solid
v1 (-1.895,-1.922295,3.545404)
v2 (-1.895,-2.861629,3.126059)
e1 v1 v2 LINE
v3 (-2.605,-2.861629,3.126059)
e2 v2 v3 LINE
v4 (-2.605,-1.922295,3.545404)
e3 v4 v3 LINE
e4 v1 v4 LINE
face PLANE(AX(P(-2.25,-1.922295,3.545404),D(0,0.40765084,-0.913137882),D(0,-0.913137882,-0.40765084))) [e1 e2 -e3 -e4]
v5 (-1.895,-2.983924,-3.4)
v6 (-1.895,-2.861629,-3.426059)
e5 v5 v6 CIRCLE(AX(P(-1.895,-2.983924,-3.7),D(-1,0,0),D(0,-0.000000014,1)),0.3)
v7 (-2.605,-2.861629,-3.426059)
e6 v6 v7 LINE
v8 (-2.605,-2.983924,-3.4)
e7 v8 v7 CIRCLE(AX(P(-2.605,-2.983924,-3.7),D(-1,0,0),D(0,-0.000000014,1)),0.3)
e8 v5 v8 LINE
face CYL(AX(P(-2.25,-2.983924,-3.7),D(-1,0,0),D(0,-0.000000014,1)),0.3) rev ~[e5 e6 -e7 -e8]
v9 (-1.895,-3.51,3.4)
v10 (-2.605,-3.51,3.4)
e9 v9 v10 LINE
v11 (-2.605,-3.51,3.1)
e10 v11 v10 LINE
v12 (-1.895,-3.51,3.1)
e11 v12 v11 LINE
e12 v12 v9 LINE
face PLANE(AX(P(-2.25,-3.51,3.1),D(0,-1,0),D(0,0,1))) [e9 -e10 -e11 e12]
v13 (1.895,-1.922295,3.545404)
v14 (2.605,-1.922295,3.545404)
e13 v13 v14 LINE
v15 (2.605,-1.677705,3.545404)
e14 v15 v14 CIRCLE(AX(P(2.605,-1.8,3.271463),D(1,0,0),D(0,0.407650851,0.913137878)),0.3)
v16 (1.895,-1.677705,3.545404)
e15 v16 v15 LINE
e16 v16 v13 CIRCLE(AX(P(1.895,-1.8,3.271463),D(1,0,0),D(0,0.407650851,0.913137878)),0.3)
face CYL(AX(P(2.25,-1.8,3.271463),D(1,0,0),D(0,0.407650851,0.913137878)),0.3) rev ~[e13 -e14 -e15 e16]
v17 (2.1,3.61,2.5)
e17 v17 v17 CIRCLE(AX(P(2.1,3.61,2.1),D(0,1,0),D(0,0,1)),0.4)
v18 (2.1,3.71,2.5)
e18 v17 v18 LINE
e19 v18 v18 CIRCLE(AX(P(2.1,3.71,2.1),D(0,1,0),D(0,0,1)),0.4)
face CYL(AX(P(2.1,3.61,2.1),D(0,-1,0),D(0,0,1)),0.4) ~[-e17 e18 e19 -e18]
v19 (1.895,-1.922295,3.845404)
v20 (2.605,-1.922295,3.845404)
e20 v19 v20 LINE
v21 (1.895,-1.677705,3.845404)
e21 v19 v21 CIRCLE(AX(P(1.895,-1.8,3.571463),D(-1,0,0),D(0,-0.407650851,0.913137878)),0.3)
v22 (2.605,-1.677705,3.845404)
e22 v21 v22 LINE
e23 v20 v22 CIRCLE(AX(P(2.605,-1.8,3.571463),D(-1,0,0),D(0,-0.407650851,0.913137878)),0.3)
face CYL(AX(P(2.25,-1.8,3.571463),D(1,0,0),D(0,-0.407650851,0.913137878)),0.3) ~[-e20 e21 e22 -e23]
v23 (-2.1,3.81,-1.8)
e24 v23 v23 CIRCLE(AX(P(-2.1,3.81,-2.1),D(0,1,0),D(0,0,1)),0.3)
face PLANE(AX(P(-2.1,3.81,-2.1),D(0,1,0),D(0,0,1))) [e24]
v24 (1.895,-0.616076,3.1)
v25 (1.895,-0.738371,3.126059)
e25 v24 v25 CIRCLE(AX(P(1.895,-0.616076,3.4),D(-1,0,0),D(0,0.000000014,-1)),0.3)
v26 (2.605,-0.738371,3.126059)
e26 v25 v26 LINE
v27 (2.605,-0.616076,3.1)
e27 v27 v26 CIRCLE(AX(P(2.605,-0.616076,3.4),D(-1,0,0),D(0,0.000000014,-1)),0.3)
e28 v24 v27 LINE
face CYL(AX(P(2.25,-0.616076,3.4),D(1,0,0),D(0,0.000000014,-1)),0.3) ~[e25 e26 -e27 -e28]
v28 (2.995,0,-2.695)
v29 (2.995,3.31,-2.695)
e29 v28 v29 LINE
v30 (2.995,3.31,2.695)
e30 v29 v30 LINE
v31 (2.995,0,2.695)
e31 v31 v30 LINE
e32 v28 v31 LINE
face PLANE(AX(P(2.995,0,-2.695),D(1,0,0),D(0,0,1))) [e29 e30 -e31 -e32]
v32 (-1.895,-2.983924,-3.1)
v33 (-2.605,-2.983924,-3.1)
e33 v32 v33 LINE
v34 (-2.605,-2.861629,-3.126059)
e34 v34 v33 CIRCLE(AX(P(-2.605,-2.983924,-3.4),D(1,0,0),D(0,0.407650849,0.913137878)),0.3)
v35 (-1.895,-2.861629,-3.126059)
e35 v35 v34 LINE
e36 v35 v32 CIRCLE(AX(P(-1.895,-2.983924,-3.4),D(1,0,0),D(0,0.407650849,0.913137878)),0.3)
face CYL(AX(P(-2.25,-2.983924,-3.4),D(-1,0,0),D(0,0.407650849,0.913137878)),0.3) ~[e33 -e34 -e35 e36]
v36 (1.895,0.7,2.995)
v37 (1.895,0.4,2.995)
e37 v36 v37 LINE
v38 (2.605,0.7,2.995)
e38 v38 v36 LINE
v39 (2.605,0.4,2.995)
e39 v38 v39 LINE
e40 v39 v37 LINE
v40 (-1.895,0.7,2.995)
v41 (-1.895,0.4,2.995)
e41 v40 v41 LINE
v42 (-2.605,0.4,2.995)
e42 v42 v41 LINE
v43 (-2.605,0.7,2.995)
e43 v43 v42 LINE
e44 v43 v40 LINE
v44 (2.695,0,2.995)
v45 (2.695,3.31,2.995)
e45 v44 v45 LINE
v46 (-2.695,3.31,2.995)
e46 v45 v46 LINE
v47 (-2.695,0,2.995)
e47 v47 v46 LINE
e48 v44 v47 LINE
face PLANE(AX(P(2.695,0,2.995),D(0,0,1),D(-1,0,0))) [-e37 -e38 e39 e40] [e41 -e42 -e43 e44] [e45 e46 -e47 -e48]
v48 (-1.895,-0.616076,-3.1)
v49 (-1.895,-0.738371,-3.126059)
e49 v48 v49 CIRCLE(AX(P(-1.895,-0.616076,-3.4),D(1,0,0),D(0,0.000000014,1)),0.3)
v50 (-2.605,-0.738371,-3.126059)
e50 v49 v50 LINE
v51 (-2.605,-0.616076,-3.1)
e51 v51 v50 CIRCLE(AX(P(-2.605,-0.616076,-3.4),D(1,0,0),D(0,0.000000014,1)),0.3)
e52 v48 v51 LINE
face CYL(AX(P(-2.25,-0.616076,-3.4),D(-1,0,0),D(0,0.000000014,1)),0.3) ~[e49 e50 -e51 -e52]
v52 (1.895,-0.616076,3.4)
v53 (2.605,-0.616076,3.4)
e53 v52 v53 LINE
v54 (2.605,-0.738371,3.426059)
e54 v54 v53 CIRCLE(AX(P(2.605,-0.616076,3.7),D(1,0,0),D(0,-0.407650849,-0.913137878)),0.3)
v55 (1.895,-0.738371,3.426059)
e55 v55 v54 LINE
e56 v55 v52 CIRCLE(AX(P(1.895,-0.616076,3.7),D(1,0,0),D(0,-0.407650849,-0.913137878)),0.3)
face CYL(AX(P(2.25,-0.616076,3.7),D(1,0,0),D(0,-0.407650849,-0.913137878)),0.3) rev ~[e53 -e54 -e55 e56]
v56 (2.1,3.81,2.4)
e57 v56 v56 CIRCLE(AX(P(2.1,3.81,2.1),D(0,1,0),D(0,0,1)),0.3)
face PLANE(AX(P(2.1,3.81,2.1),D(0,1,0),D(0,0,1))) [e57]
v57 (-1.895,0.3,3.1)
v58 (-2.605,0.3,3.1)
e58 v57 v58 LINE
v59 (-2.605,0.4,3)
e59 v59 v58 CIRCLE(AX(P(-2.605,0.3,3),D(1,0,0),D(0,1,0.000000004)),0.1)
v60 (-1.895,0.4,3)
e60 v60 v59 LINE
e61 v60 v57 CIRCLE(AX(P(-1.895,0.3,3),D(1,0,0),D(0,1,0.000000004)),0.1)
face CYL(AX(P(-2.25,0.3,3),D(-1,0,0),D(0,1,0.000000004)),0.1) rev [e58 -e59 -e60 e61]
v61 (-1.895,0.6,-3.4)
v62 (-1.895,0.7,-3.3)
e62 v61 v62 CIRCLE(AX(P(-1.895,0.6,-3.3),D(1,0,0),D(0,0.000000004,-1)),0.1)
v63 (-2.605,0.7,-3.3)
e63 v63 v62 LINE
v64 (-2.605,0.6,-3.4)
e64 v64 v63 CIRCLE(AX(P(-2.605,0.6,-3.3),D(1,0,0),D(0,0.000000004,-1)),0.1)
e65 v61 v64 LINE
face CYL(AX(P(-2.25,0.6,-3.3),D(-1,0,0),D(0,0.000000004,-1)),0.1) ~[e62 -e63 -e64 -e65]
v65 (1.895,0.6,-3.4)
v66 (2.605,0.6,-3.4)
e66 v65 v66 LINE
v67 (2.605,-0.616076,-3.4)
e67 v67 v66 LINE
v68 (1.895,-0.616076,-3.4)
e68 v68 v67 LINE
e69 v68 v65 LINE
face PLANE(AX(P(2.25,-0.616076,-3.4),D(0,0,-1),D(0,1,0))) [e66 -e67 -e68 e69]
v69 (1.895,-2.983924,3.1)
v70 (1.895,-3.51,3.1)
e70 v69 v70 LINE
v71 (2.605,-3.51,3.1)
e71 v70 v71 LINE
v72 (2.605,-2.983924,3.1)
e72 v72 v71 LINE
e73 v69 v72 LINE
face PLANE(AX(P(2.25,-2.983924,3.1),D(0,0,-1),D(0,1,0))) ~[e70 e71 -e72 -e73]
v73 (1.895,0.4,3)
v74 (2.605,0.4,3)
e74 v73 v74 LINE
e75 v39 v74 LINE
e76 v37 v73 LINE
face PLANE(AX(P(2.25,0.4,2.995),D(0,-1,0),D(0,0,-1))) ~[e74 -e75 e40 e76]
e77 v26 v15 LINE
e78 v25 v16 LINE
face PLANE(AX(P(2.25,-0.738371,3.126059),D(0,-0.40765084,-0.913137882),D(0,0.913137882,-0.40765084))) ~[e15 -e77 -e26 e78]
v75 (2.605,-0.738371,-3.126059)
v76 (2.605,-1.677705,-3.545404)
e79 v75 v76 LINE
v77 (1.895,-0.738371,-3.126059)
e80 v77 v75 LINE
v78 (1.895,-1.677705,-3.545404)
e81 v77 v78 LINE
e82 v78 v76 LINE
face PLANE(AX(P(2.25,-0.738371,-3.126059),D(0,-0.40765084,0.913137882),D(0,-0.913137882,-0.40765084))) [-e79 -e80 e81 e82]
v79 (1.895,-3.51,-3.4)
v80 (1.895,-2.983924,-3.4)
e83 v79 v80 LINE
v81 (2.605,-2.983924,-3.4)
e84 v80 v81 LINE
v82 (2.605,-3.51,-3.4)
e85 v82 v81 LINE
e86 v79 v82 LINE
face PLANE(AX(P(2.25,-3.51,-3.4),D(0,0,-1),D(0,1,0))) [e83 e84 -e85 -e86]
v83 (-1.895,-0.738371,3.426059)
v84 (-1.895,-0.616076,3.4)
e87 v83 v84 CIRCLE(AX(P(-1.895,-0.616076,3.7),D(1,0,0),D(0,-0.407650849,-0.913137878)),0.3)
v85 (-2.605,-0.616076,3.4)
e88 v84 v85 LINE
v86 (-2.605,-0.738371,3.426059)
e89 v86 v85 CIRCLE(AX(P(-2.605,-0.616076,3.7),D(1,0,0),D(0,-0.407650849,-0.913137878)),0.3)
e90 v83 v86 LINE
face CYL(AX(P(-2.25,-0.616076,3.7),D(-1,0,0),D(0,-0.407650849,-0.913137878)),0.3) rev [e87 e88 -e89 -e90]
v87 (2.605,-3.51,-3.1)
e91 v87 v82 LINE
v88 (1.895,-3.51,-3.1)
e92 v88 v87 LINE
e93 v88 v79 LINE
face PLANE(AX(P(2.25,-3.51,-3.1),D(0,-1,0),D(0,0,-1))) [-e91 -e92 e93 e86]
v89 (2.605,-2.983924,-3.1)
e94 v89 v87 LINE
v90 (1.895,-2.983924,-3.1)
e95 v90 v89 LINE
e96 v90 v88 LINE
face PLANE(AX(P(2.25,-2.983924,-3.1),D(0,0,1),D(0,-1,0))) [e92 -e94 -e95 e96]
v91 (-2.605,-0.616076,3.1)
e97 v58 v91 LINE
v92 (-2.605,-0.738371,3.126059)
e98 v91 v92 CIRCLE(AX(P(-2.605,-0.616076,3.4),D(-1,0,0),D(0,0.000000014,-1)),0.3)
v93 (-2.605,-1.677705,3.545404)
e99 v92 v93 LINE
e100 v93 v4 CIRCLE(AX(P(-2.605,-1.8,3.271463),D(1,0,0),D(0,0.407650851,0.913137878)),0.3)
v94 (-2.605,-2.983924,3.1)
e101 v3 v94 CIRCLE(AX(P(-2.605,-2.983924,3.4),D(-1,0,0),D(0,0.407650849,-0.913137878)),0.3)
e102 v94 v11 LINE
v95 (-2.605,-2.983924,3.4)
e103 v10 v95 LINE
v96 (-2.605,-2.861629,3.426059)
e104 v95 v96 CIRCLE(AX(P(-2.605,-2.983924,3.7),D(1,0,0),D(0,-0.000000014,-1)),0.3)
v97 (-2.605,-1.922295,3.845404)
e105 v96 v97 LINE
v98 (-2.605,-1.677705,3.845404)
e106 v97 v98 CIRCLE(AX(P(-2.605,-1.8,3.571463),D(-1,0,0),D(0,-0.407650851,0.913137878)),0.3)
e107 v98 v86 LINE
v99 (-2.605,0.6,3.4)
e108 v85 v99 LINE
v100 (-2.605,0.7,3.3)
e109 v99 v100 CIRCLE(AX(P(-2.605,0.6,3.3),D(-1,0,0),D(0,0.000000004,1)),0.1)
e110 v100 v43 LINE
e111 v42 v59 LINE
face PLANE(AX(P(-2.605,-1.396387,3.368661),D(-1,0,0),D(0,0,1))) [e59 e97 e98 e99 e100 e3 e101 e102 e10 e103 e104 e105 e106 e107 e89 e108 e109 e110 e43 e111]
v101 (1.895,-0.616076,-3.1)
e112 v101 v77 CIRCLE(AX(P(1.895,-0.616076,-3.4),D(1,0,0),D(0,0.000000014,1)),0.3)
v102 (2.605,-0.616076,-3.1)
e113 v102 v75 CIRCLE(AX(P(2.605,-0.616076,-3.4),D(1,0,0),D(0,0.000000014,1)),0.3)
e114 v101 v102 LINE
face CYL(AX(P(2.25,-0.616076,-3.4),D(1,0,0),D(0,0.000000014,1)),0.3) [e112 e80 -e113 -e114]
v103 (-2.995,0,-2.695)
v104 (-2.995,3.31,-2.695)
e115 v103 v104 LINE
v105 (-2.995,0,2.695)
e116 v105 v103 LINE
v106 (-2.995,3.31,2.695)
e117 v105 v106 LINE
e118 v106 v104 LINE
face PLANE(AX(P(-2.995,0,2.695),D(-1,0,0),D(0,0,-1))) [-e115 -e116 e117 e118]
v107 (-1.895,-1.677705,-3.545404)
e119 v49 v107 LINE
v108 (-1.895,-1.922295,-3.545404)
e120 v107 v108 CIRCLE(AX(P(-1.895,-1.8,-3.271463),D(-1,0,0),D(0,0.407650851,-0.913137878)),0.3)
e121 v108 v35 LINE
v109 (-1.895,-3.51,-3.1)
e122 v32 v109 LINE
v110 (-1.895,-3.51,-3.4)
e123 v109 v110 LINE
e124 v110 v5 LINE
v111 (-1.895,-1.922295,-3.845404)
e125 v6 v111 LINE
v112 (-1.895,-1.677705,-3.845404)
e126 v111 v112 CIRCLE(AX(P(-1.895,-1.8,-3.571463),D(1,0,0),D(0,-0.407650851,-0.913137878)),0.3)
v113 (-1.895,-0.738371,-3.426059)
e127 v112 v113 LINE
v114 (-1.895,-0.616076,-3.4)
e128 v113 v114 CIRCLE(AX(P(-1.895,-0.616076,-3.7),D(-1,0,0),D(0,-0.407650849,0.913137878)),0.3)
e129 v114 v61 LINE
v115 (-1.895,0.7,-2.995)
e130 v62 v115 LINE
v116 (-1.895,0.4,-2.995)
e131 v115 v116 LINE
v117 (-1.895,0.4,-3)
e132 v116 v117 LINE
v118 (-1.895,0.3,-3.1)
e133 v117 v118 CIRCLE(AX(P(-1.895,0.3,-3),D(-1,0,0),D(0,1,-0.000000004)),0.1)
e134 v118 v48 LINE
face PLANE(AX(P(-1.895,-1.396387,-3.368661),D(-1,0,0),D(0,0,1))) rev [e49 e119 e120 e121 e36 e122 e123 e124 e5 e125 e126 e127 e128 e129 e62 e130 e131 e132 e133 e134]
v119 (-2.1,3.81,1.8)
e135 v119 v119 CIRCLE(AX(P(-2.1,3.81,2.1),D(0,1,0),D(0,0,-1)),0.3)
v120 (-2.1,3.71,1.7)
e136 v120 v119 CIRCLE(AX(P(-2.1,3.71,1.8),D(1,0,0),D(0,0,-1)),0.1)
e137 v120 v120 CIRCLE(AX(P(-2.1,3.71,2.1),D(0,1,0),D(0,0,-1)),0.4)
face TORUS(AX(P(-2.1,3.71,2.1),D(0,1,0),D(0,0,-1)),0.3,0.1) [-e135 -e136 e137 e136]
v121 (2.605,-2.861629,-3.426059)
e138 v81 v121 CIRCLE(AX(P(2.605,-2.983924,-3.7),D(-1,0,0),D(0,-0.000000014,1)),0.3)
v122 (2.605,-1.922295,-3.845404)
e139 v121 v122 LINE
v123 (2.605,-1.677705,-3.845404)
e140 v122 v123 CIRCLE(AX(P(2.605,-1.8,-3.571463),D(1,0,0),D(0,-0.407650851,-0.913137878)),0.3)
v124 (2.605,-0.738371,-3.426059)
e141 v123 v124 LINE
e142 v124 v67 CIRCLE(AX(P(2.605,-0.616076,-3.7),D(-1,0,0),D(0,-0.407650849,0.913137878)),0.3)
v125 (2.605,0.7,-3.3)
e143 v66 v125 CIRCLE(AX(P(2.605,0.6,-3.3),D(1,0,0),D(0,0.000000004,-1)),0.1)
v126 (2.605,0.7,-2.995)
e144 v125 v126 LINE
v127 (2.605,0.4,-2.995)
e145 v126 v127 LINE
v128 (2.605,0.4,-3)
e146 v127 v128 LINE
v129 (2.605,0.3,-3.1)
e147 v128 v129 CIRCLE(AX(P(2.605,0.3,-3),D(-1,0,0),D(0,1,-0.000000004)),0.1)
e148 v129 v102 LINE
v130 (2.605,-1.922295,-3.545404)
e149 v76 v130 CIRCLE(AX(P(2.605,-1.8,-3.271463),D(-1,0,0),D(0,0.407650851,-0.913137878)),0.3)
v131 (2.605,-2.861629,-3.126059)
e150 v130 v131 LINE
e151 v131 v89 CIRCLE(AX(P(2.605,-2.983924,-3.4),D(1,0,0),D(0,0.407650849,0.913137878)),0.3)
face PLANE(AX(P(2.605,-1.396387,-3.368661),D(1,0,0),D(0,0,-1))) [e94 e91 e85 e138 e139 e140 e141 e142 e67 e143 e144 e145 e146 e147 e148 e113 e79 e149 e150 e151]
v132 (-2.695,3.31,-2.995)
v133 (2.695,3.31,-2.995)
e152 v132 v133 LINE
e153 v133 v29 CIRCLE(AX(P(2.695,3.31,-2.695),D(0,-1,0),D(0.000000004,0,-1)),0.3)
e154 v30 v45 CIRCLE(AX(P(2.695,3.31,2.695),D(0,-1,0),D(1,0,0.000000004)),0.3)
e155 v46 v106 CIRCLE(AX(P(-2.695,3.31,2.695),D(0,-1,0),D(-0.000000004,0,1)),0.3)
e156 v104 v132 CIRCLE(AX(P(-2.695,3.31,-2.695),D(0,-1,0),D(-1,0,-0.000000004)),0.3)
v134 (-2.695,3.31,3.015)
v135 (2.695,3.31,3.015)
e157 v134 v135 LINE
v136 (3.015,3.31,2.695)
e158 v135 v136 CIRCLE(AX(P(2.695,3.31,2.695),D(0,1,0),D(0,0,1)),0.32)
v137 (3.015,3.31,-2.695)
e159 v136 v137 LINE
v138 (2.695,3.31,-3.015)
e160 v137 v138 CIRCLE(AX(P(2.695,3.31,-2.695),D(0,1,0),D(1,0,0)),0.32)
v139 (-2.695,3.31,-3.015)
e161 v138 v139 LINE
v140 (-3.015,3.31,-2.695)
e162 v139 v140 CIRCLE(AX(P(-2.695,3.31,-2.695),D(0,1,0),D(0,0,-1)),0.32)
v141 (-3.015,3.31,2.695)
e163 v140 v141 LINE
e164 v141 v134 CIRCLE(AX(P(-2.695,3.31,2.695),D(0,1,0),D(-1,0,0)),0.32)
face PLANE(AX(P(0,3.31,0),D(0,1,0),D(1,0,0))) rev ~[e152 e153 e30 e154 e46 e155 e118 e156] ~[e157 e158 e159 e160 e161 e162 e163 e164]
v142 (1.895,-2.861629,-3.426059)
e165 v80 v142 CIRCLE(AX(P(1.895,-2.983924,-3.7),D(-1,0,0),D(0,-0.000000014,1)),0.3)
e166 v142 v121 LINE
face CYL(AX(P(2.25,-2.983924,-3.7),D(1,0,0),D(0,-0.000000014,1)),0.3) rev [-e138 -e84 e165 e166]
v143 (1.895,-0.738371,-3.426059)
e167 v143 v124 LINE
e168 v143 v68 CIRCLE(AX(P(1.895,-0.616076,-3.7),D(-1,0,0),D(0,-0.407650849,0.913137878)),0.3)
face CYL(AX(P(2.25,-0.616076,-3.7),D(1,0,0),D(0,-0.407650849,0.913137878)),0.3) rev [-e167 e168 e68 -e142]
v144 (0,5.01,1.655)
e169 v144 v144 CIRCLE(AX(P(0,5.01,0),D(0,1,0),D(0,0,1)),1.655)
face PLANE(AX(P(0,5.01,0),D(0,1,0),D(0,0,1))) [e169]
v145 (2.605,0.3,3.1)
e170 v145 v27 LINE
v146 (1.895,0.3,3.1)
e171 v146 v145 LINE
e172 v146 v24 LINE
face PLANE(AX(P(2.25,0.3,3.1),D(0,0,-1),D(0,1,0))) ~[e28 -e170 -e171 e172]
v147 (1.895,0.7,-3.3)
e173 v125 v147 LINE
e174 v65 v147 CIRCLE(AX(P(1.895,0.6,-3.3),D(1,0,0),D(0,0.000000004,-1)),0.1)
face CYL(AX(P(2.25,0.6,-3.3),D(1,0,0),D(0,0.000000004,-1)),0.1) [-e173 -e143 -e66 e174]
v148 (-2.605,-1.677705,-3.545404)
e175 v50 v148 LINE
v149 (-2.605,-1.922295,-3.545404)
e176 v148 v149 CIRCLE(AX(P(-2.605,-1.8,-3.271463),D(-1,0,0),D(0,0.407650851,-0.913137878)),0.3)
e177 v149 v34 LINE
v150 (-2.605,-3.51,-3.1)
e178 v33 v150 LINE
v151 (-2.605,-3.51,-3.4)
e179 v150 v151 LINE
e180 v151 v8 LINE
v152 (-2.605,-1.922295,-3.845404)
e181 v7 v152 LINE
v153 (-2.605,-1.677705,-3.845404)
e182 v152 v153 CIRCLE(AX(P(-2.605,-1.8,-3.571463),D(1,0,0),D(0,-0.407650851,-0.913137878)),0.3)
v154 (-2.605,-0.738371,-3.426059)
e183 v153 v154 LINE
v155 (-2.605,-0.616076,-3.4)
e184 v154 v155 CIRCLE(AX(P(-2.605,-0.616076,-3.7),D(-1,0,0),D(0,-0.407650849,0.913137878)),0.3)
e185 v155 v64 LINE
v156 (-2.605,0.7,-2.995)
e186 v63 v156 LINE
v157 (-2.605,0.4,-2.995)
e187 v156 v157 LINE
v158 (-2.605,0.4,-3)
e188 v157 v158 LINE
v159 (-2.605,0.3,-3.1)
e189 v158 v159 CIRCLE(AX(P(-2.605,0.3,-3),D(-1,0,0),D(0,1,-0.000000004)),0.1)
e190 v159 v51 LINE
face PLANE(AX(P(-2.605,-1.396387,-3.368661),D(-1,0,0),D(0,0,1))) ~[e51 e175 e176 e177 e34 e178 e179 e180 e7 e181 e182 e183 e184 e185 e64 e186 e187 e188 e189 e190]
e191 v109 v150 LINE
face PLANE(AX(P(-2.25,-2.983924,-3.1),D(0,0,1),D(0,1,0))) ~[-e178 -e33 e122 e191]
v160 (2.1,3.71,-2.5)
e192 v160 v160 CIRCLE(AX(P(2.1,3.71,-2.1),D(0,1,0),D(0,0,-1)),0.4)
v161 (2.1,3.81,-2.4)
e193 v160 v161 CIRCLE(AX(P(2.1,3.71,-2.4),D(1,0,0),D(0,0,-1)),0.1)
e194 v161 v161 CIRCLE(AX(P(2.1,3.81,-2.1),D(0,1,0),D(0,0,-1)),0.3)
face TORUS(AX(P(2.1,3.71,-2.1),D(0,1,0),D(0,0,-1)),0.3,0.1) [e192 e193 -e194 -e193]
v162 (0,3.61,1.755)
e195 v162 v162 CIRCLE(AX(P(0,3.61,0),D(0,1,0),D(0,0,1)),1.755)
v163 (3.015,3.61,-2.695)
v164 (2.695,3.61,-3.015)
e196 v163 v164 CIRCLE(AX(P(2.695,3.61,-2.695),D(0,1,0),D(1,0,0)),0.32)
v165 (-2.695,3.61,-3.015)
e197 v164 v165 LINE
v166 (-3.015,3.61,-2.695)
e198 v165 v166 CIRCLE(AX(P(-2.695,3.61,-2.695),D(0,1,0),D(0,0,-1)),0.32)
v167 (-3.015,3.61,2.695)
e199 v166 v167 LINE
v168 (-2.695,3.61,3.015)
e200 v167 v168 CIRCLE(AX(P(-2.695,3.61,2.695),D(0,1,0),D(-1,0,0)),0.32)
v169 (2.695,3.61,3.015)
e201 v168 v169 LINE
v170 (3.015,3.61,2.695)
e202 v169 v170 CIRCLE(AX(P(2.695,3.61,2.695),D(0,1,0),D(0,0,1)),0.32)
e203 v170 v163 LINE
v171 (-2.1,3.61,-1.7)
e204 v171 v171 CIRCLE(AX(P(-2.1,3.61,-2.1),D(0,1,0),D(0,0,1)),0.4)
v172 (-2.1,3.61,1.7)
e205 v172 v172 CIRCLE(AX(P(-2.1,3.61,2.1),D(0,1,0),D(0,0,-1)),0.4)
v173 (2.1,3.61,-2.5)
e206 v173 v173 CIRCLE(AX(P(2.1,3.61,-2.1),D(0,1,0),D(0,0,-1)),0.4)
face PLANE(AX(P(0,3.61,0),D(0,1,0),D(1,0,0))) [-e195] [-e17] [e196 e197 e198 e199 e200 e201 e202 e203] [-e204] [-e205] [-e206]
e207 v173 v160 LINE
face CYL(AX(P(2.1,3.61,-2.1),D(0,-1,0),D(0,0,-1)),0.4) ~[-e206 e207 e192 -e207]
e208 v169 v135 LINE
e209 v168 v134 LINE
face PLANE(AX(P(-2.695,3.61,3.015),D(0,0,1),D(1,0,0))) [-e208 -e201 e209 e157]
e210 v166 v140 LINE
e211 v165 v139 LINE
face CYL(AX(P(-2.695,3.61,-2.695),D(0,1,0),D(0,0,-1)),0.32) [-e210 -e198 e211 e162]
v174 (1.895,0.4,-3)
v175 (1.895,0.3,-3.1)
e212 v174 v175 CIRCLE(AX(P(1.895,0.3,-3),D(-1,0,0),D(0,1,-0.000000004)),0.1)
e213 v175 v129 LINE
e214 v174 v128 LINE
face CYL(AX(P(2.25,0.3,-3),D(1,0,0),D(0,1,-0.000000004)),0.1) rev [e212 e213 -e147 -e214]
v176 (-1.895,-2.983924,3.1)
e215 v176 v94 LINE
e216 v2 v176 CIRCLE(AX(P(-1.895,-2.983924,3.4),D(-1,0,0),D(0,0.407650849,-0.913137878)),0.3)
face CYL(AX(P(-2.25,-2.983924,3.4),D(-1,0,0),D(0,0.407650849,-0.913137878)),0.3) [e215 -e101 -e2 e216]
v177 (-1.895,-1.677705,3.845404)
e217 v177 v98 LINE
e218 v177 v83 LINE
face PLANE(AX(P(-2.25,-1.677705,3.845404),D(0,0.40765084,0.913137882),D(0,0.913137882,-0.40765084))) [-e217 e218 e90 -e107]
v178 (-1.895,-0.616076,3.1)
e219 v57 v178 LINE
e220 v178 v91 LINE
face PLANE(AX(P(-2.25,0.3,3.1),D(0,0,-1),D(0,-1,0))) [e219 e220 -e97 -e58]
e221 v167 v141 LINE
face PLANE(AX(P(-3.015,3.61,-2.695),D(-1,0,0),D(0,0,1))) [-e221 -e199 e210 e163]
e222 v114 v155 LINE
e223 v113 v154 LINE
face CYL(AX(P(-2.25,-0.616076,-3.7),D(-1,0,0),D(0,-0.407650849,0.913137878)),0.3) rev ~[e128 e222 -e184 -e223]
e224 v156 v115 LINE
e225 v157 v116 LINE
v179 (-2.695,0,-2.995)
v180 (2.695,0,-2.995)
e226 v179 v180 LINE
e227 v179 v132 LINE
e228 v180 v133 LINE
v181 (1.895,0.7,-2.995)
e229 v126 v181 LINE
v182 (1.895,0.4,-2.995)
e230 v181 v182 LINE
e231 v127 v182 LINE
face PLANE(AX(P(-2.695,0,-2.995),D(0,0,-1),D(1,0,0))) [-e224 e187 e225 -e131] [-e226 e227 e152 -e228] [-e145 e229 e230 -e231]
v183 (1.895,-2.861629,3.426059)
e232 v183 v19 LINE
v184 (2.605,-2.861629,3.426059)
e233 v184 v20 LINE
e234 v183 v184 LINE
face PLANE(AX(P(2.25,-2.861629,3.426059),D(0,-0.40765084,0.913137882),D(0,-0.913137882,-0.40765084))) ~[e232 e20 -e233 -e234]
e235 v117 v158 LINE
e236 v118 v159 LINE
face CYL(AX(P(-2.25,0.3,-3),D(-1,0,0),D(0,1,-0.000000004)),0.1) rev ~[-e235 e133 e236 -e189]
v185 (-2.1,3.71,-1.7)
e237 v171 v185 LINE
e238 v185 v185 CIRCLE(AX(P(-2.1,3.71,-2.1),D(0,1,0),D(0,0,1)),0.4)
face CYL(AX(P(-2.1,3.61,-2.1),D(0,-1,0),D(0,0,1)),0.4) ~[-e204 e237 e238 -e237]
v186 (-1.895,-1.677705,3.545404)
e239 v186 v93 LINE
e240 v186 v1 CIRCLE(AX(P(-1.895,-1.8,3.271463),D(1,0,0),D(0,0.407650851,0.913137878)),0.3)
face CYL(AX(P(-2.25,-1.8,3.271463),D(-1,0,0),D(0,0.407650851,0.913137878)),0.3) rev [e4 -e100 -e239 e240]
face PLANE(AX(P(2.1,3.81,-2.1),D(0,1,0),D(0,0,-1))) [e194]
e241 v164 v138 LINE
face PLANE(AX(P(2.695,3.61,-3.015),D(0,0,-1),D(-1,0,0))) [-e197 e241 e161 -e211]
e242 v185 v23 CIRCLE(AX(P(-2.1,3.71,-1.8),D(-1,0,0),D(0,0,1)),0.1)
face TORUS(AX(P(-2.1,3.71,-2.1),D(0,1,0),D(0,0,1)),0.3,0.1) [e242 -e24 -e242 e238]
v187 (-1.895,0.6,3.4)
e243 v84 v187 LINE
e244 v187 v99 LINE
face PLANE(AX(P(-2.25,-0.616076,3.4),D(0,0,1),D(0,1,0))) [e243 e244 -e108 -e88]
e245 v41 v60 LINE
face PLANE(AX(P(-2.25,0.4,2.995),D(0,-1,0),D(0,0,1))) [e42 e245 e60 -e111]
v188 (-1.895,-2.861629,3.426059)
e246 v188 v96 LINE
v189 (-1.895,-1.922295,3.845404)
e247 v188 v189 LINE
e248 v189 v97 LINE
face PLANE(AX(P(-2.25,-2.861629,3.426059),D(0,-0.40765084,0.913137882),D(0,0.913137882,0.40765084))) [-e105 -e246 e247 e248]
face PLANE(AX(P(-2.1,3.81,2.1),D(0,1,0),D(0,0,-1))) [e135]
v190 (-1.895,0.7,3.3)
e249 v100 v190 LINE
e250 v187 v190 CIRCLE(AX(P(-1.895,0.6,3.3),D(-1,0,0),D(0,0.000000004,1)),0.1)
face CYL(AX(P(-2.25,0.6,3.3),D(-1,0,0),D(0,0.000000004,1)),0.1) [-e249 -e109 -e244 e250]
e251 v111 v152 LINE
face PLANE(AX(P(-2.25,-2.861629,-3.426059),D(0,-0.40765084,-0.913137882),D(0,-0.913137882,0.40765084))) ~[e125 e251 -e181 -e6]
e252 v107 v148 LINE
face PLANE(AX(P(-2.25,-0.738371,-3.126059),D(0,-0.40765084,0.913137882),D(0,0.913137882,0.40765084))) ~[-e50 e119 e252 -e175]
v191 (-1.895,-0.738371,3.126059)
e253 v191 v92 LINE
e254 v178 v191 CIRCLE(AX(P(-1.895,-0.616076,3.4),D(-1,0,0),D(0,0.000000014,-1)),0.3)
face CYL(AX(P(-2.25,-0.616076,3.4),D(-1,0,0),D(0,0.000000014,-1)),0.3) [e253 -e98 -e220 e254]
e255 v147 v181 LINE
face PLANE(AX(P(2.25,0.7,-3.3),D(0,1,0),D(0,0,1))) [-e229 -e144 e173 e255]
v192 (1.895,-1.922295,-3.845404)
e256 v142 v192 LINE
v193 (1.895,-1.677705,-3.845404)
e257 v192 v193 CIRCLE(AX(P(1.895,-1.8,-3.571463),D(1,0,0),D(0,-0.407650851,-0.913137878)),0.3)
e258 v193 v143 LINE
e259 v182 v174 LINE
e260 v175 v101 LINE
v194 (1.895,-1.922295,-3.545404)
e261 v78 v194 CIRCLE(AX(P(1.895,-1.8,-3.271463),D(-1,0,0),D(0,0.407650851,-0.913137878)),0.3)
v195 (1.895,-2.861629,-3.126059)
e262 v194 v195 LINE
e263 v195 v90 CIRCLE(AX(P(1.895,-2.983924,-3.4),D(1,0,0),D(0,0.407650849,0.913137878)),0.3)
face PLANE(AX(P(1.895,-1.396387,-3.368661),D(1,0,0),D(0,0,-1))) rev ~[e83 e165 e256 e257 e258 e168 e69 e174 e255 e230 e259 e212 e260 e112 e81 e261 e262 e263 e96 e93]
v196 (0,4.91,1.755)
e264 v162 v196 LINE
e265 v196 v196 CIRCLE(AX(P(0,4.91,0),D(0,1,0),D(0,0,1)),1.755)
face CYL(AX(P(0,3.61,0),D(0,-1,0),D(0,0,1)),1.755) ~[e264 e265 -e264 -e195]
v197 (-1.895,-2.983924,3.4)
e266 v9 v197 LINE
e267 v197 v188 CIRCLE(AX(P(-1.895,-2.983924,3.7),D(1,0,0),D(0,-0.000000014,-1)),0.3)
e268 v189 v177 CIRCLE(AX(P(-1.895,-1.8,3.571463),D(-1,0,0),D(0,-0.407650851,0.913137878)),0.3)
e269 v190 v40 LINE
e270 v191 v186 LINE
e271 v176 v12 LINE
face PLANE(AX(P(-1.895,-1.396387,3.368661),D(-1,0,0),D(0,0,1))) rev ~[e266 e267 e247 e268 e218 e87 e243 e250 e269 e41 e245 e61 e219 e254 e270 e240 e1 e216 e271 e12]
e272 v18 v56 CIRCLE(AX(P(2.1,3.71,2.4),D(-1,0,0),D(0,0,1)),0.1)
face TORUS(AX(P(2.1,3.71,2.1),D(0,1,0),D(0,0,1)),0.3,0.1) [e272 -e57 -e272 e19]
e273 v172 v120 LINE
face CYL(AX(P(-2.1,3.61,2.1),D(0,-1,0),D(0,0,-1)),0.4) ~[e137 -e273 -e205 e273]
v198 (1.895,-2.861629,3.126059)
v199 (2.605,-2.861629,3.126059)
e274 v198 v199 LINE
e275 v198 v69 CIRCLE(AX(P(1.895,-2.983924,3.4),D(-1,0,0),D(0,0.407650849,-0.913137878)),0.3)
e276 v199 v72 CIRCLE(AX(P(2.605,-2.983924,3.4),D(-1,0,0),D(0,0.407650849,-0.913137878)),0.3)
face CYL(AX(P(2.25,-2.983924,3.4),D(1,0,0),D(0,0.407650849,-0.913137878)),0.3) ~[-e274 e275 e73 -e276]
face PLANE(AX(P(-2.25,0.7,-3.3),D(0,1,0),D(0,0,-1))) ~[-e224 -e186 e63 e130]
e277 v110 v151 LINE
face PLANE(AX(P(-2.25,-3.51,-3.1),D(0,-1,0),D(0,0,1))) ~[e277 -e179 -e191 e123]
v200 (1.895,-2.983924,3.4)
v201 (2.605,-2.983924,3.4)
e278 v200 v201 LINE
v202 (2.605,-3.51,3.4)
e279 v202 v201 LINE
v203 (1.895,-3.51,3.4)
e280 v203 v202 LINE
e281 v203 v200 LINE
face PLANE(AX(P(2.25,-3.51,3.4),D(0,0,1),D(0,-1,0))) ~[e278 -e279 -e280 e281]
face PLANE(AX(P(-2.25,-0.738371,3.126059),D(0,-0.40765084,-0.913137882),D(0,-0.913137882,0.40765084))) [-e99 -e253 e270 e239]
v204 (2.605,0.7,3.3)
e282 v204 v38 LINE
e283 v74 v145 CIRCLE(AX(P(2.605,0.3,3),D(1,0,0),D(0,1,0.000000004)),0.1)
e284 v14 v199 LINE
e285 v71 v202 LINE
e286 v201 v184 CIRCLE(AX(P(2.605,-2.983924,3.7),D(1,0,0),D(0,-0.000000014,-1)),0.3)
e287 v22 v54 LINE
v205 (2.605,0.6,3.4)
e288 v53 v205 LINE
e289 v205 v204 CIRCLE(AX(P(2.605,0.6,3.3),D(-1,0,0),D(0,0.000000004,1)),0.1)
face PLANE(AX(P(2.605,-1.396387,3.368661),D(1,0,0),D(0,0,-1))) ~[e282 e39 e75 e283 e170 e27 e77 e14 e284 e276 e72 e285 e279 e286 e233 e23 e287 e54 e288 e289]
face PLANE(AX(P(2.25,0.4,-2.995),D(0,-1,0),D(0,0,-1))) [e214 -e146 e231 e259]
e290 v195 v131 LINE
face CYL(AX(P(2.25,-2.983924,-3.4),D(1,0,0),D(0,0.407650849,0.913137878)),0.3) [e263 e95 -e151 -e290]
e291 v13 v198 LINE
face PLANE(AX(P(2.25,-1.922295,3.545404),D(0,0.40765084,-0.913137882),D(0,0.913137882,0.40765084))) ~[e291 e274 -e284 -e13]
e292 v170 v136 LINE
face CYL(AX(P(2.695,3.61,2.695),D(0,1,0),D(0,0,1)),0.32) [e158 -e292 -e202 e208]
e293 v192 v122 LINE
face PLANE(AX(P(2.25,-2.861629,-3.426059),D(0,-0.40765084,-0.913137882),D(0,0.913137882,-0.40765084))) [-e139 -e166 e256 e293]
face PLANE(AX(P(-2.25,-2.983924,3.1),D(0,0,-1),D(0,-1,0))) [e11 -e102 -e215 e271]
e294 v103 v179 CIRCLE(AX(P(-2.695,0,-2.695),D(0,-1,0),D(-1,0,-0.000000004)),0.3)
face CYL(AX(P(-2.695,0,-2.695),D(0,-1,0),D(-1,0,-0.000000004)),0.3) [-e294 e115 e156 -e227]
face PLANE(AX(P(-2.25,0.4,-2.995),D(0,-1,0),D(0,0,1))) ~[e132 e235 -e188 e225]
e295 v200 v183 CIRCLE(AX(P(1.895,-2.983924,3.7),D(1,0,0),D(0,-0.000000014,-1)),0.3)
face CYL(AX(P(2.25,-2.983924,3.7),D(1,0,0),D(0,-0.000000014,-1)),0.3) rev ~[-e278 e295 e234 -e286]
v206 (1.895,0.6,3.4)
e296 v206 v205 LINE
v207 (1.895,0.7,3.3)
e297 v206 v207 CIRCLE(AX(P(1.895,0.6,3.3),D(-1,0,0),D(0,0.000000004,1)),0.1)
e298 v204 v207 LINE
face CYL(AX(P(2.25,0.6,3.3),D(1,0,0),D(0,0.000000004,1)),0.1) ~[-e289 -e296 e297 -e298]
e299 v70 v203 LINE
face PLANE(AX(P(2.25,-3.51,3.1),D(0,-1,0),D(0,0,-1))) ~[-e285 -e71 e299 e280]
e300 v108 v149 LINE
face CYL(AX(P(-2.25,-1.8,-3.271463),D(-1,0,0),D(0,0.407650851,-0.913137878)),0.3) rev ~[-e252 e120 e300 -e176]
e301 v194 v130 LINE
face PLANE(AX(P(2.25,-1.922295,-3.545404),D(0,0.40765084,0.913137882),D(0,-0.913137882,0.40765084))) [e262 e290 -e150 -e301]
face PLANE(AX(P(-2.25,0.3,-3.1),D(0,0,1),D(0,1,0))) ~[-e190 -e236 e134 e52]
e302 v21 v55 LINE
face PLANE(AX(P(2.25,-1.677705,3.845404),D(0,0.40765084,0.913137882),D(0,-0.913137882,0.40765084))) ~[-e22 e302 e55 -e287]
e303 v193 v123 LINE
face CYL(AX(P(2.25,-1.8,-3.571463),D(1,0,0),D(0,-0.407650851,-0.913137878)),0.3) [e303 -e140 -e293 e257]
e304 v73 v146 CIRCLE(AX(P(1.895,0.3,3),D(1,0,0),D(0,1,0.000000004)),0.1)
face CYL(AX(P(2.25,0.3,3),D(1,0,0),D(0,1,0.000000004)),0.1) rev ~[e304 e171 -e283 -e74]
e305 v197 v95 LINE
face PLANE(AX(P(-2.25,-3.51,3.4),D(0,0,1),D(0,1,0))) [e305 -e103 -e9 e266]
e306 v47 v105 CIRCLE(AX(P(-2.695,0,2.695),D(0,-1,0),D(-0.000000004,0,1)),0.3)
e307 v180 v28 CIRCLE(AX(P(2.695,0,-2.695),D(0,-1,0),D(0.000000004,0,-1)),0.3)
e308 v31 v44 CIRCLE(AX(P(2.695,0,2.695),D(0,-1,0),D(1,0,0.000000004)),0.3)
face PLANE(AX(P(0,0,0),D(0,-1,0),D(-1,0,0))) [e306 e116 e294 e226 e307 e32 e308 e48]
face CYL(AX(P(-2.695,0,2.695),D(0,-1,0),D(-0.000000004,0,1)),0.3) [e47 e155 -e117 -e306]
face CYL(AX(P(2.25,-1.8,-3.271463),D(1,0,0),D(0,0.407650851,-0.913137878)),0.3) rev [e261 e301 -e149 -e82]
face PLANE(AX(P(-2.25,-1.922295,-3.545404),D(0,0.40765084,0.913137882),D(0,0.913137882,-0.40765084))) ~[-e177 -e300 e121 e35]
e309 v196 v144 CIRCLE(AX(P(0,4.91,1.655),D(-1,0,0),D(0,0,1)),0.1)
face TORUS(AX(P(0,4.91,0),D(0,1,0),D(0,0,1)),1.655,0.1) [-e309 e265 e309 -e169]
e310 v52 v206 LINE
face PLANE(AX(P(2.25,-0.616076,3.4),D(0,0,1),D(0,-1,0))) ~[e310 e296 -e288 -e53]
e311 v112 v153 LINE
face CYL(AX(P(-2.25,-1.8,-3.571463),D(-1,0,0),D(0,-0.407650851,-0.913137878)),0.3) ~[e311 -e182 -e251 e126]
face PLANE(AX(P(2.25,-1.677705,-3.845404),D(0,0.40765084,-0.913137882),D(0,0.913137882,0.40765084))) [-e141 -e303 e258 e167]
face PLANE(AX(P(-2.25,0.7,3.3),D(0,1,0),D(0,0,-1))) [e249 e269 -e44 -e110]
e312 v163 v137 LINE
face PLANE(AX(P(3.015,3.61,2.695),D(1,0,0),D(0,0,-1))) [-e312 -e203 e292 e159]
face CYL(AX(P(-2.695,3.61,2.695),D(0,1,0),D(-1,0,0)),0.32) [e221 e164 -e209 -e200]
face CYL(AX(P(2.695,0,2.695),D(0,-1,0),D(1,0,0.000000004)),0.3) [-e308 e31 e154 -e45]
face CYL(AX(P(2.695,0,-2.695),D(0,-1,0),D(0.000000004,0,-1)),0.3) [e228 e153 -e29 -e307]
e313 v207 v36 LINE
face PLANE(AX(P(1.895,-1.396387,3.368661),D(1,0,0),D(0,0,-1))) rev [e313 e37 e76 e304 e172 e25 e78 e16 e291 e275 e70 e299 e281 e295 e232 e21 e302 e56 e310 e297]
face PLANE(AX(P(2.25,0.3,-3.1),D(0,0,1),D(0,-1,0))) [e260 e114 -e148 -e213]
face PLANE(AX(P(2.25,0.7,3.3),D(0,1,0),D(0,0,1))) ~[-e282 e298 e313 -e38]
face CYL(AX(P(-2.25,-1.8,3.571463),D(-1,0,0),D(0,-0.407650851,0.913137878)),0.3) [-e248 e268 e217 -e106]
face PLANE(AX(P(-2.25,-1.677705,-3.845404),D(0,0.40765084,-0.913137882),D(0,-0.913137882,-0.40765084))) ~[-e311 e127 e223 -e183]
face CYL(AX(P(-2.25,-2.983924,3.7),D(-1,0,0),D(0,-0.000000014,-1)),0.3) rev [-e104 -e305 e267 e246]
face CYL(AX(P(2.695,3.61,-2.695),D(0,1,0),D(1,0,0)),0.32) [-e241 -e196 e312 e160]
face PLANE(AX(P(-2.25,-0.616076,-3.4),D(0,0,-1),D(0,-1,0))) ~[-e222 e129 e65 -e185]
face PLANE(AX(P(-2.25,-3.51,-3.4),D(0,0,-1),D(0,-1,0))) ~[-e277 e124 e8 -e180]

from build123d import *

# Parameters (mm, degrees)
RESSALTO_EXTRUS_O1_DEPTH = 3.61
ESBO_O2_R                = 1.755
RESSALTO_EXTRUS_O2_DEPTH = 1.4
FILETE1_R                = 0.1
ESBO_O3_R                = 0.4
RESSALTO_EXTRUS_O3_DEPTH = 0.2
FILETE2_R                = 0.1
RESSALTO_EXTRUS_O4_DEPTH = 0.3
RESSALTO_EXTRUS_O5_DEPTH = 0.355
ESPELHAR2_COPY_1_DEPTH   = 0.355


with BuildPart() as part:
    # Esboço1 → Ressalto-extrusão1 (new body)
    with BuildSketch(Plane(origin=(0, 0, 0), x_dir=(1, 0, 0), z_dir=(0, 1, 0))):
        with BuildLine():
            Line((-2.695, 2.995), (2.695, 2.995))
            ThreePointArc((2.695, 2.995), (2.907132034, 2.907132034), (2.995, 2.695))
            Line((2.995, 2.695), (2.995, -2.695))
            ThreePointArc((2.995, -2.695), (2.907132034, -2.907132034), (2.695, -2.995))
            Line((2.695, -2.995), (-2.695, -2.995))
            ThreePointArc((-2.695, -2.995), (-2.907132034, -2.907132034), (-2.995, -2.695))
            Line((-2.995, -2.695), (-2.995, 2.695))
            ThreePointArc((-2.995, 2.695), (-2.907132034, 2.907132034), (-2.695, 2.995))
        make_face()
    extrude(amount=RESSALTO_EXTRUS_O1_DEPTH)



with BuildPart() as body_2:
    # Esboço2 → Ressalto-extrusão2 (new body)
    with BuildSketch(Plane(origin=(0, 3.61, 0), x_dir=(1, 0, 0), z_dir=(0, 1, 0))):
        with Locations(Location((0, 0, 0), (0, 0, 270))):
            Circle(ESBO_O2_R)
    extrude(amount=RESSALTO_EXTRUS_O2_DEPTH)

    # Filete1
    filete1_edges = [body_2.edges().sort_by_distance(p)[0] for p in [
        (0, 5.01, -1.755),
    ]]
    fillet(filete1_edges, radius=FILETE1_R)


with BuildPart() as part_1:
    add(part.part)

    add(body_2.part)  # Ressalto-extrusão3 merges body 2
    # Esboço3 → Ressalto-extrusão3 (add)
    with BuildSketch(Plane(origin=(0, 3.61, 0), x_dir=(1, 0, 0), z_dir=(0, 1, 0))):
        with Locations(Location((-2.1, 2.1, 0), (0, 0, 270))):
            Circle(ESBO_O3_R)
        with Locations(Location((2.1, 2.1, 0), (0, 0, 90))):
            Circle(ESBO_O3_R)
        with Locations(Location((2.1, -2.1, 0), (0, 0, 270))):
            Circle(ESBO_O3_R)
        with Locations(Location((-2.1, -2.1, 0), (0, 0, 90))):
            Circle(ESBO_O3_R)
    extrude(amount=RESSALTO_EXTRUS_O3_DEPTH)

    # Filete2
    filete2_edges = [part_1.edges().sort_by_distance(p)[0] for p in [
        (-2.1, 3.81, -2.5),
        (2.1, 3.81, -1.7),
        (2.1, 3.81, 1.7),
        (-2.1, 3.81, 2.5),
    ]]
    fillet(filete2_edges, radius=FILETE2_R)

    # Esboço4 → Ressalto-extrusão4 (add)
    with BuildSketch(Plane(origin=(0, 3.61, 0), x_dir=(1, 0, 0), z_dir=(0, 1, 0))):
        with BuildLine():
            Line((-2.695, -3.015), (2.695, -3.015))
            ThreePointArc((2.695, -3.015), (2.92127417, -2.92127417), (3.015, -2.695))
            Line((3.015, -2.695), (3.015, 2.695))
            ThreePointArc((3.015, 2.695), (2.92127417, 2.92127417), (2.695, 3.015))
            Line((2.695, 3.015), (-2.695, 3.015))
            ThreePointArc((-2.695, 3.015), (-2.92127417, 2.92127417), (-3.015, 2.695))
            Line((-3.015, 2.695), (-3.015, -2.695))
            ThreePointArc((-3.015, -2.695), (-2.92127417, -2.92127417), (-2.695, -3.015))
        make_face()
    extrude(amount=-RESSALTO_EXTRUS_O4_DEPTH)

    # Esboço5 → Ressalto-extrusão5 (add, symmetric)
    with BuildSketch(Plane(origin=(2.25, 0, 0), x_dir=(0, 0, -1), z_dir=(1, 0, 0))):
        with BuildLine():
            Line((2.995, 0.4), (3, 0.4))
            ThreePointArc((3, 0.4), (3.070710678, 0.370710678), (3.1, 0.3))
            Line((3.1, 0.3), (3.1, -0.616076091))
            ThreePointArc((3.1, -0.616076091), (3.106586972, -0.67859645), (3.126058635, -0.738371343))
            Line((3.126058635, -0.738371343), (3.545403905, -1.677704748))
            ThreePointArc((3.545403905, -1.677704748), (3.571462541, -1.8), (3.545403905, -1.922295252))
            Line((3.545403905, -1.922295252), (3.126058635, -2.861628657))
            ThreePointArc((3.126058635, -2.861628657), (3.106586972, -2.92140355), (3.1, -2.983923909))
            Line((3.1, -2.983923909), (3.1, -3.51))
            Line((3.1, -3.51), (3.4, -3.51))
            Line((3.4, -3.51), (3.4, -2.983923909))
            ThreePointArc((3.4, -2.983923909), (3.406586972, -2.92140355), (3.426058635, -2.861628657))
            Line((3.426058635, -2.861628657), (3.845403905, -1.922295252))
            ThreePointArc((3.845403905, -1.922295252), (3.871462541, -1.8), (3.845403905, -1.677704748))
            Line((3.845403905, -1.677704748), (3.426058635, -0.738371343))
            ThreePointArc((3.426058635, -0.738371343), (3.406586972, -0.67859645), (3.4, -0.616076091))
            Line((3.4, -0.616076091), (3.4, 0.6))
            ThreePointArc((3.4, 0.6), (3.370710678, 0.670710678), (3.3, 0.7))
            Line((3.3, 0.7), (2.995, 0.7))
            Line((2.995, 0.7), (2.995, 0.4))
        make_face()
    ressalto_extrus_o5 = extrude(amount=RESSALTO_EXTRUS_O5_DEPTH, both=True)

    # Espelhar1: Ressalto-extrusão5 across plane
    add(ressalto_extrus_o5.mirror(Plane(origin=(0, 0, 0), x_dir=(0, 0, 1), z_dir=(1, 0, 0))))

    # Espelhar2: Ressalto-extrusão5 across plane
    add(ressalto_extrus_o5.mirror(Plane.XY))

    # Espelhar2 copy 1 sketch → Espelhar2 copy 1 (add, symmetric)
    with BuildSketch(Plane.ZY.offset(2.25)):
        with BuildLine():
            Line((2.995, 0.4), (3, 0.4))
            ThreePointArc((3, 0.4), (3.070710678, 0.370710678), (3.1, 0.3))
            Line((3.1, 0.3), (3.1, -0.616076091))
            ThreePointArc((3.1, -0.616076091), (3.106586972, -0.67859645), (3.126058635, -0.738371343))
            Line((3.126058635, -0.738371343), (3.545403905, -1.677704748))
            ThreePointArc((3.545403905, -1.677704748), (3.571462541, -1.8), (3.545403905, -1.922295252))
            Line((3.545403905, -1.922295252), (3.126058635, -2.861628657))
            ThreePointArc((3.126058635, -2.861628657), (3.106586972, -2.92140355), (3.1, -2.983923909))
            Line((3.1, -2.983923909), (3.1, -3.51))
            Line((3.1, -3.51), (3.4, -3.51))
            Line((3.4, -3.51), (3.4, -2.983923909))
            ThreePointArc((3.4, -2.983923909), (3.406586972, -2.92140355), (3.426058635, -2.861628657))
            Line((3.426058635, -2.861628657), (3.845403905, -1.922295252))
            ThreePointArc((3.845403905, -1.922295252), (3.871462541, -1.8), (3.845403905, -1.677704748))
            Line((3.845403905, -1.677704748), (3.426058635, -0.738371343))
            ThreePointArc((3.426058635, -0.738371343), (3.406586972, -0.67859645), (3.4, -0.616076091))
            Line((3.4, -0.616076091), (3.4, 0.6))
            ThreePointArc((3.4, 0.6), (3.370710678, 0.670710678), (3.3, 0.7))
            Line((3.3, 0.7), (2.995, 0.7))
            Line((2.995, 0.7), (2.995, 0.4))
        make_face()
    extrude(amount=ESPELHAR2_COPY_1_DEPTH, both=True)


solid = part_1.part
